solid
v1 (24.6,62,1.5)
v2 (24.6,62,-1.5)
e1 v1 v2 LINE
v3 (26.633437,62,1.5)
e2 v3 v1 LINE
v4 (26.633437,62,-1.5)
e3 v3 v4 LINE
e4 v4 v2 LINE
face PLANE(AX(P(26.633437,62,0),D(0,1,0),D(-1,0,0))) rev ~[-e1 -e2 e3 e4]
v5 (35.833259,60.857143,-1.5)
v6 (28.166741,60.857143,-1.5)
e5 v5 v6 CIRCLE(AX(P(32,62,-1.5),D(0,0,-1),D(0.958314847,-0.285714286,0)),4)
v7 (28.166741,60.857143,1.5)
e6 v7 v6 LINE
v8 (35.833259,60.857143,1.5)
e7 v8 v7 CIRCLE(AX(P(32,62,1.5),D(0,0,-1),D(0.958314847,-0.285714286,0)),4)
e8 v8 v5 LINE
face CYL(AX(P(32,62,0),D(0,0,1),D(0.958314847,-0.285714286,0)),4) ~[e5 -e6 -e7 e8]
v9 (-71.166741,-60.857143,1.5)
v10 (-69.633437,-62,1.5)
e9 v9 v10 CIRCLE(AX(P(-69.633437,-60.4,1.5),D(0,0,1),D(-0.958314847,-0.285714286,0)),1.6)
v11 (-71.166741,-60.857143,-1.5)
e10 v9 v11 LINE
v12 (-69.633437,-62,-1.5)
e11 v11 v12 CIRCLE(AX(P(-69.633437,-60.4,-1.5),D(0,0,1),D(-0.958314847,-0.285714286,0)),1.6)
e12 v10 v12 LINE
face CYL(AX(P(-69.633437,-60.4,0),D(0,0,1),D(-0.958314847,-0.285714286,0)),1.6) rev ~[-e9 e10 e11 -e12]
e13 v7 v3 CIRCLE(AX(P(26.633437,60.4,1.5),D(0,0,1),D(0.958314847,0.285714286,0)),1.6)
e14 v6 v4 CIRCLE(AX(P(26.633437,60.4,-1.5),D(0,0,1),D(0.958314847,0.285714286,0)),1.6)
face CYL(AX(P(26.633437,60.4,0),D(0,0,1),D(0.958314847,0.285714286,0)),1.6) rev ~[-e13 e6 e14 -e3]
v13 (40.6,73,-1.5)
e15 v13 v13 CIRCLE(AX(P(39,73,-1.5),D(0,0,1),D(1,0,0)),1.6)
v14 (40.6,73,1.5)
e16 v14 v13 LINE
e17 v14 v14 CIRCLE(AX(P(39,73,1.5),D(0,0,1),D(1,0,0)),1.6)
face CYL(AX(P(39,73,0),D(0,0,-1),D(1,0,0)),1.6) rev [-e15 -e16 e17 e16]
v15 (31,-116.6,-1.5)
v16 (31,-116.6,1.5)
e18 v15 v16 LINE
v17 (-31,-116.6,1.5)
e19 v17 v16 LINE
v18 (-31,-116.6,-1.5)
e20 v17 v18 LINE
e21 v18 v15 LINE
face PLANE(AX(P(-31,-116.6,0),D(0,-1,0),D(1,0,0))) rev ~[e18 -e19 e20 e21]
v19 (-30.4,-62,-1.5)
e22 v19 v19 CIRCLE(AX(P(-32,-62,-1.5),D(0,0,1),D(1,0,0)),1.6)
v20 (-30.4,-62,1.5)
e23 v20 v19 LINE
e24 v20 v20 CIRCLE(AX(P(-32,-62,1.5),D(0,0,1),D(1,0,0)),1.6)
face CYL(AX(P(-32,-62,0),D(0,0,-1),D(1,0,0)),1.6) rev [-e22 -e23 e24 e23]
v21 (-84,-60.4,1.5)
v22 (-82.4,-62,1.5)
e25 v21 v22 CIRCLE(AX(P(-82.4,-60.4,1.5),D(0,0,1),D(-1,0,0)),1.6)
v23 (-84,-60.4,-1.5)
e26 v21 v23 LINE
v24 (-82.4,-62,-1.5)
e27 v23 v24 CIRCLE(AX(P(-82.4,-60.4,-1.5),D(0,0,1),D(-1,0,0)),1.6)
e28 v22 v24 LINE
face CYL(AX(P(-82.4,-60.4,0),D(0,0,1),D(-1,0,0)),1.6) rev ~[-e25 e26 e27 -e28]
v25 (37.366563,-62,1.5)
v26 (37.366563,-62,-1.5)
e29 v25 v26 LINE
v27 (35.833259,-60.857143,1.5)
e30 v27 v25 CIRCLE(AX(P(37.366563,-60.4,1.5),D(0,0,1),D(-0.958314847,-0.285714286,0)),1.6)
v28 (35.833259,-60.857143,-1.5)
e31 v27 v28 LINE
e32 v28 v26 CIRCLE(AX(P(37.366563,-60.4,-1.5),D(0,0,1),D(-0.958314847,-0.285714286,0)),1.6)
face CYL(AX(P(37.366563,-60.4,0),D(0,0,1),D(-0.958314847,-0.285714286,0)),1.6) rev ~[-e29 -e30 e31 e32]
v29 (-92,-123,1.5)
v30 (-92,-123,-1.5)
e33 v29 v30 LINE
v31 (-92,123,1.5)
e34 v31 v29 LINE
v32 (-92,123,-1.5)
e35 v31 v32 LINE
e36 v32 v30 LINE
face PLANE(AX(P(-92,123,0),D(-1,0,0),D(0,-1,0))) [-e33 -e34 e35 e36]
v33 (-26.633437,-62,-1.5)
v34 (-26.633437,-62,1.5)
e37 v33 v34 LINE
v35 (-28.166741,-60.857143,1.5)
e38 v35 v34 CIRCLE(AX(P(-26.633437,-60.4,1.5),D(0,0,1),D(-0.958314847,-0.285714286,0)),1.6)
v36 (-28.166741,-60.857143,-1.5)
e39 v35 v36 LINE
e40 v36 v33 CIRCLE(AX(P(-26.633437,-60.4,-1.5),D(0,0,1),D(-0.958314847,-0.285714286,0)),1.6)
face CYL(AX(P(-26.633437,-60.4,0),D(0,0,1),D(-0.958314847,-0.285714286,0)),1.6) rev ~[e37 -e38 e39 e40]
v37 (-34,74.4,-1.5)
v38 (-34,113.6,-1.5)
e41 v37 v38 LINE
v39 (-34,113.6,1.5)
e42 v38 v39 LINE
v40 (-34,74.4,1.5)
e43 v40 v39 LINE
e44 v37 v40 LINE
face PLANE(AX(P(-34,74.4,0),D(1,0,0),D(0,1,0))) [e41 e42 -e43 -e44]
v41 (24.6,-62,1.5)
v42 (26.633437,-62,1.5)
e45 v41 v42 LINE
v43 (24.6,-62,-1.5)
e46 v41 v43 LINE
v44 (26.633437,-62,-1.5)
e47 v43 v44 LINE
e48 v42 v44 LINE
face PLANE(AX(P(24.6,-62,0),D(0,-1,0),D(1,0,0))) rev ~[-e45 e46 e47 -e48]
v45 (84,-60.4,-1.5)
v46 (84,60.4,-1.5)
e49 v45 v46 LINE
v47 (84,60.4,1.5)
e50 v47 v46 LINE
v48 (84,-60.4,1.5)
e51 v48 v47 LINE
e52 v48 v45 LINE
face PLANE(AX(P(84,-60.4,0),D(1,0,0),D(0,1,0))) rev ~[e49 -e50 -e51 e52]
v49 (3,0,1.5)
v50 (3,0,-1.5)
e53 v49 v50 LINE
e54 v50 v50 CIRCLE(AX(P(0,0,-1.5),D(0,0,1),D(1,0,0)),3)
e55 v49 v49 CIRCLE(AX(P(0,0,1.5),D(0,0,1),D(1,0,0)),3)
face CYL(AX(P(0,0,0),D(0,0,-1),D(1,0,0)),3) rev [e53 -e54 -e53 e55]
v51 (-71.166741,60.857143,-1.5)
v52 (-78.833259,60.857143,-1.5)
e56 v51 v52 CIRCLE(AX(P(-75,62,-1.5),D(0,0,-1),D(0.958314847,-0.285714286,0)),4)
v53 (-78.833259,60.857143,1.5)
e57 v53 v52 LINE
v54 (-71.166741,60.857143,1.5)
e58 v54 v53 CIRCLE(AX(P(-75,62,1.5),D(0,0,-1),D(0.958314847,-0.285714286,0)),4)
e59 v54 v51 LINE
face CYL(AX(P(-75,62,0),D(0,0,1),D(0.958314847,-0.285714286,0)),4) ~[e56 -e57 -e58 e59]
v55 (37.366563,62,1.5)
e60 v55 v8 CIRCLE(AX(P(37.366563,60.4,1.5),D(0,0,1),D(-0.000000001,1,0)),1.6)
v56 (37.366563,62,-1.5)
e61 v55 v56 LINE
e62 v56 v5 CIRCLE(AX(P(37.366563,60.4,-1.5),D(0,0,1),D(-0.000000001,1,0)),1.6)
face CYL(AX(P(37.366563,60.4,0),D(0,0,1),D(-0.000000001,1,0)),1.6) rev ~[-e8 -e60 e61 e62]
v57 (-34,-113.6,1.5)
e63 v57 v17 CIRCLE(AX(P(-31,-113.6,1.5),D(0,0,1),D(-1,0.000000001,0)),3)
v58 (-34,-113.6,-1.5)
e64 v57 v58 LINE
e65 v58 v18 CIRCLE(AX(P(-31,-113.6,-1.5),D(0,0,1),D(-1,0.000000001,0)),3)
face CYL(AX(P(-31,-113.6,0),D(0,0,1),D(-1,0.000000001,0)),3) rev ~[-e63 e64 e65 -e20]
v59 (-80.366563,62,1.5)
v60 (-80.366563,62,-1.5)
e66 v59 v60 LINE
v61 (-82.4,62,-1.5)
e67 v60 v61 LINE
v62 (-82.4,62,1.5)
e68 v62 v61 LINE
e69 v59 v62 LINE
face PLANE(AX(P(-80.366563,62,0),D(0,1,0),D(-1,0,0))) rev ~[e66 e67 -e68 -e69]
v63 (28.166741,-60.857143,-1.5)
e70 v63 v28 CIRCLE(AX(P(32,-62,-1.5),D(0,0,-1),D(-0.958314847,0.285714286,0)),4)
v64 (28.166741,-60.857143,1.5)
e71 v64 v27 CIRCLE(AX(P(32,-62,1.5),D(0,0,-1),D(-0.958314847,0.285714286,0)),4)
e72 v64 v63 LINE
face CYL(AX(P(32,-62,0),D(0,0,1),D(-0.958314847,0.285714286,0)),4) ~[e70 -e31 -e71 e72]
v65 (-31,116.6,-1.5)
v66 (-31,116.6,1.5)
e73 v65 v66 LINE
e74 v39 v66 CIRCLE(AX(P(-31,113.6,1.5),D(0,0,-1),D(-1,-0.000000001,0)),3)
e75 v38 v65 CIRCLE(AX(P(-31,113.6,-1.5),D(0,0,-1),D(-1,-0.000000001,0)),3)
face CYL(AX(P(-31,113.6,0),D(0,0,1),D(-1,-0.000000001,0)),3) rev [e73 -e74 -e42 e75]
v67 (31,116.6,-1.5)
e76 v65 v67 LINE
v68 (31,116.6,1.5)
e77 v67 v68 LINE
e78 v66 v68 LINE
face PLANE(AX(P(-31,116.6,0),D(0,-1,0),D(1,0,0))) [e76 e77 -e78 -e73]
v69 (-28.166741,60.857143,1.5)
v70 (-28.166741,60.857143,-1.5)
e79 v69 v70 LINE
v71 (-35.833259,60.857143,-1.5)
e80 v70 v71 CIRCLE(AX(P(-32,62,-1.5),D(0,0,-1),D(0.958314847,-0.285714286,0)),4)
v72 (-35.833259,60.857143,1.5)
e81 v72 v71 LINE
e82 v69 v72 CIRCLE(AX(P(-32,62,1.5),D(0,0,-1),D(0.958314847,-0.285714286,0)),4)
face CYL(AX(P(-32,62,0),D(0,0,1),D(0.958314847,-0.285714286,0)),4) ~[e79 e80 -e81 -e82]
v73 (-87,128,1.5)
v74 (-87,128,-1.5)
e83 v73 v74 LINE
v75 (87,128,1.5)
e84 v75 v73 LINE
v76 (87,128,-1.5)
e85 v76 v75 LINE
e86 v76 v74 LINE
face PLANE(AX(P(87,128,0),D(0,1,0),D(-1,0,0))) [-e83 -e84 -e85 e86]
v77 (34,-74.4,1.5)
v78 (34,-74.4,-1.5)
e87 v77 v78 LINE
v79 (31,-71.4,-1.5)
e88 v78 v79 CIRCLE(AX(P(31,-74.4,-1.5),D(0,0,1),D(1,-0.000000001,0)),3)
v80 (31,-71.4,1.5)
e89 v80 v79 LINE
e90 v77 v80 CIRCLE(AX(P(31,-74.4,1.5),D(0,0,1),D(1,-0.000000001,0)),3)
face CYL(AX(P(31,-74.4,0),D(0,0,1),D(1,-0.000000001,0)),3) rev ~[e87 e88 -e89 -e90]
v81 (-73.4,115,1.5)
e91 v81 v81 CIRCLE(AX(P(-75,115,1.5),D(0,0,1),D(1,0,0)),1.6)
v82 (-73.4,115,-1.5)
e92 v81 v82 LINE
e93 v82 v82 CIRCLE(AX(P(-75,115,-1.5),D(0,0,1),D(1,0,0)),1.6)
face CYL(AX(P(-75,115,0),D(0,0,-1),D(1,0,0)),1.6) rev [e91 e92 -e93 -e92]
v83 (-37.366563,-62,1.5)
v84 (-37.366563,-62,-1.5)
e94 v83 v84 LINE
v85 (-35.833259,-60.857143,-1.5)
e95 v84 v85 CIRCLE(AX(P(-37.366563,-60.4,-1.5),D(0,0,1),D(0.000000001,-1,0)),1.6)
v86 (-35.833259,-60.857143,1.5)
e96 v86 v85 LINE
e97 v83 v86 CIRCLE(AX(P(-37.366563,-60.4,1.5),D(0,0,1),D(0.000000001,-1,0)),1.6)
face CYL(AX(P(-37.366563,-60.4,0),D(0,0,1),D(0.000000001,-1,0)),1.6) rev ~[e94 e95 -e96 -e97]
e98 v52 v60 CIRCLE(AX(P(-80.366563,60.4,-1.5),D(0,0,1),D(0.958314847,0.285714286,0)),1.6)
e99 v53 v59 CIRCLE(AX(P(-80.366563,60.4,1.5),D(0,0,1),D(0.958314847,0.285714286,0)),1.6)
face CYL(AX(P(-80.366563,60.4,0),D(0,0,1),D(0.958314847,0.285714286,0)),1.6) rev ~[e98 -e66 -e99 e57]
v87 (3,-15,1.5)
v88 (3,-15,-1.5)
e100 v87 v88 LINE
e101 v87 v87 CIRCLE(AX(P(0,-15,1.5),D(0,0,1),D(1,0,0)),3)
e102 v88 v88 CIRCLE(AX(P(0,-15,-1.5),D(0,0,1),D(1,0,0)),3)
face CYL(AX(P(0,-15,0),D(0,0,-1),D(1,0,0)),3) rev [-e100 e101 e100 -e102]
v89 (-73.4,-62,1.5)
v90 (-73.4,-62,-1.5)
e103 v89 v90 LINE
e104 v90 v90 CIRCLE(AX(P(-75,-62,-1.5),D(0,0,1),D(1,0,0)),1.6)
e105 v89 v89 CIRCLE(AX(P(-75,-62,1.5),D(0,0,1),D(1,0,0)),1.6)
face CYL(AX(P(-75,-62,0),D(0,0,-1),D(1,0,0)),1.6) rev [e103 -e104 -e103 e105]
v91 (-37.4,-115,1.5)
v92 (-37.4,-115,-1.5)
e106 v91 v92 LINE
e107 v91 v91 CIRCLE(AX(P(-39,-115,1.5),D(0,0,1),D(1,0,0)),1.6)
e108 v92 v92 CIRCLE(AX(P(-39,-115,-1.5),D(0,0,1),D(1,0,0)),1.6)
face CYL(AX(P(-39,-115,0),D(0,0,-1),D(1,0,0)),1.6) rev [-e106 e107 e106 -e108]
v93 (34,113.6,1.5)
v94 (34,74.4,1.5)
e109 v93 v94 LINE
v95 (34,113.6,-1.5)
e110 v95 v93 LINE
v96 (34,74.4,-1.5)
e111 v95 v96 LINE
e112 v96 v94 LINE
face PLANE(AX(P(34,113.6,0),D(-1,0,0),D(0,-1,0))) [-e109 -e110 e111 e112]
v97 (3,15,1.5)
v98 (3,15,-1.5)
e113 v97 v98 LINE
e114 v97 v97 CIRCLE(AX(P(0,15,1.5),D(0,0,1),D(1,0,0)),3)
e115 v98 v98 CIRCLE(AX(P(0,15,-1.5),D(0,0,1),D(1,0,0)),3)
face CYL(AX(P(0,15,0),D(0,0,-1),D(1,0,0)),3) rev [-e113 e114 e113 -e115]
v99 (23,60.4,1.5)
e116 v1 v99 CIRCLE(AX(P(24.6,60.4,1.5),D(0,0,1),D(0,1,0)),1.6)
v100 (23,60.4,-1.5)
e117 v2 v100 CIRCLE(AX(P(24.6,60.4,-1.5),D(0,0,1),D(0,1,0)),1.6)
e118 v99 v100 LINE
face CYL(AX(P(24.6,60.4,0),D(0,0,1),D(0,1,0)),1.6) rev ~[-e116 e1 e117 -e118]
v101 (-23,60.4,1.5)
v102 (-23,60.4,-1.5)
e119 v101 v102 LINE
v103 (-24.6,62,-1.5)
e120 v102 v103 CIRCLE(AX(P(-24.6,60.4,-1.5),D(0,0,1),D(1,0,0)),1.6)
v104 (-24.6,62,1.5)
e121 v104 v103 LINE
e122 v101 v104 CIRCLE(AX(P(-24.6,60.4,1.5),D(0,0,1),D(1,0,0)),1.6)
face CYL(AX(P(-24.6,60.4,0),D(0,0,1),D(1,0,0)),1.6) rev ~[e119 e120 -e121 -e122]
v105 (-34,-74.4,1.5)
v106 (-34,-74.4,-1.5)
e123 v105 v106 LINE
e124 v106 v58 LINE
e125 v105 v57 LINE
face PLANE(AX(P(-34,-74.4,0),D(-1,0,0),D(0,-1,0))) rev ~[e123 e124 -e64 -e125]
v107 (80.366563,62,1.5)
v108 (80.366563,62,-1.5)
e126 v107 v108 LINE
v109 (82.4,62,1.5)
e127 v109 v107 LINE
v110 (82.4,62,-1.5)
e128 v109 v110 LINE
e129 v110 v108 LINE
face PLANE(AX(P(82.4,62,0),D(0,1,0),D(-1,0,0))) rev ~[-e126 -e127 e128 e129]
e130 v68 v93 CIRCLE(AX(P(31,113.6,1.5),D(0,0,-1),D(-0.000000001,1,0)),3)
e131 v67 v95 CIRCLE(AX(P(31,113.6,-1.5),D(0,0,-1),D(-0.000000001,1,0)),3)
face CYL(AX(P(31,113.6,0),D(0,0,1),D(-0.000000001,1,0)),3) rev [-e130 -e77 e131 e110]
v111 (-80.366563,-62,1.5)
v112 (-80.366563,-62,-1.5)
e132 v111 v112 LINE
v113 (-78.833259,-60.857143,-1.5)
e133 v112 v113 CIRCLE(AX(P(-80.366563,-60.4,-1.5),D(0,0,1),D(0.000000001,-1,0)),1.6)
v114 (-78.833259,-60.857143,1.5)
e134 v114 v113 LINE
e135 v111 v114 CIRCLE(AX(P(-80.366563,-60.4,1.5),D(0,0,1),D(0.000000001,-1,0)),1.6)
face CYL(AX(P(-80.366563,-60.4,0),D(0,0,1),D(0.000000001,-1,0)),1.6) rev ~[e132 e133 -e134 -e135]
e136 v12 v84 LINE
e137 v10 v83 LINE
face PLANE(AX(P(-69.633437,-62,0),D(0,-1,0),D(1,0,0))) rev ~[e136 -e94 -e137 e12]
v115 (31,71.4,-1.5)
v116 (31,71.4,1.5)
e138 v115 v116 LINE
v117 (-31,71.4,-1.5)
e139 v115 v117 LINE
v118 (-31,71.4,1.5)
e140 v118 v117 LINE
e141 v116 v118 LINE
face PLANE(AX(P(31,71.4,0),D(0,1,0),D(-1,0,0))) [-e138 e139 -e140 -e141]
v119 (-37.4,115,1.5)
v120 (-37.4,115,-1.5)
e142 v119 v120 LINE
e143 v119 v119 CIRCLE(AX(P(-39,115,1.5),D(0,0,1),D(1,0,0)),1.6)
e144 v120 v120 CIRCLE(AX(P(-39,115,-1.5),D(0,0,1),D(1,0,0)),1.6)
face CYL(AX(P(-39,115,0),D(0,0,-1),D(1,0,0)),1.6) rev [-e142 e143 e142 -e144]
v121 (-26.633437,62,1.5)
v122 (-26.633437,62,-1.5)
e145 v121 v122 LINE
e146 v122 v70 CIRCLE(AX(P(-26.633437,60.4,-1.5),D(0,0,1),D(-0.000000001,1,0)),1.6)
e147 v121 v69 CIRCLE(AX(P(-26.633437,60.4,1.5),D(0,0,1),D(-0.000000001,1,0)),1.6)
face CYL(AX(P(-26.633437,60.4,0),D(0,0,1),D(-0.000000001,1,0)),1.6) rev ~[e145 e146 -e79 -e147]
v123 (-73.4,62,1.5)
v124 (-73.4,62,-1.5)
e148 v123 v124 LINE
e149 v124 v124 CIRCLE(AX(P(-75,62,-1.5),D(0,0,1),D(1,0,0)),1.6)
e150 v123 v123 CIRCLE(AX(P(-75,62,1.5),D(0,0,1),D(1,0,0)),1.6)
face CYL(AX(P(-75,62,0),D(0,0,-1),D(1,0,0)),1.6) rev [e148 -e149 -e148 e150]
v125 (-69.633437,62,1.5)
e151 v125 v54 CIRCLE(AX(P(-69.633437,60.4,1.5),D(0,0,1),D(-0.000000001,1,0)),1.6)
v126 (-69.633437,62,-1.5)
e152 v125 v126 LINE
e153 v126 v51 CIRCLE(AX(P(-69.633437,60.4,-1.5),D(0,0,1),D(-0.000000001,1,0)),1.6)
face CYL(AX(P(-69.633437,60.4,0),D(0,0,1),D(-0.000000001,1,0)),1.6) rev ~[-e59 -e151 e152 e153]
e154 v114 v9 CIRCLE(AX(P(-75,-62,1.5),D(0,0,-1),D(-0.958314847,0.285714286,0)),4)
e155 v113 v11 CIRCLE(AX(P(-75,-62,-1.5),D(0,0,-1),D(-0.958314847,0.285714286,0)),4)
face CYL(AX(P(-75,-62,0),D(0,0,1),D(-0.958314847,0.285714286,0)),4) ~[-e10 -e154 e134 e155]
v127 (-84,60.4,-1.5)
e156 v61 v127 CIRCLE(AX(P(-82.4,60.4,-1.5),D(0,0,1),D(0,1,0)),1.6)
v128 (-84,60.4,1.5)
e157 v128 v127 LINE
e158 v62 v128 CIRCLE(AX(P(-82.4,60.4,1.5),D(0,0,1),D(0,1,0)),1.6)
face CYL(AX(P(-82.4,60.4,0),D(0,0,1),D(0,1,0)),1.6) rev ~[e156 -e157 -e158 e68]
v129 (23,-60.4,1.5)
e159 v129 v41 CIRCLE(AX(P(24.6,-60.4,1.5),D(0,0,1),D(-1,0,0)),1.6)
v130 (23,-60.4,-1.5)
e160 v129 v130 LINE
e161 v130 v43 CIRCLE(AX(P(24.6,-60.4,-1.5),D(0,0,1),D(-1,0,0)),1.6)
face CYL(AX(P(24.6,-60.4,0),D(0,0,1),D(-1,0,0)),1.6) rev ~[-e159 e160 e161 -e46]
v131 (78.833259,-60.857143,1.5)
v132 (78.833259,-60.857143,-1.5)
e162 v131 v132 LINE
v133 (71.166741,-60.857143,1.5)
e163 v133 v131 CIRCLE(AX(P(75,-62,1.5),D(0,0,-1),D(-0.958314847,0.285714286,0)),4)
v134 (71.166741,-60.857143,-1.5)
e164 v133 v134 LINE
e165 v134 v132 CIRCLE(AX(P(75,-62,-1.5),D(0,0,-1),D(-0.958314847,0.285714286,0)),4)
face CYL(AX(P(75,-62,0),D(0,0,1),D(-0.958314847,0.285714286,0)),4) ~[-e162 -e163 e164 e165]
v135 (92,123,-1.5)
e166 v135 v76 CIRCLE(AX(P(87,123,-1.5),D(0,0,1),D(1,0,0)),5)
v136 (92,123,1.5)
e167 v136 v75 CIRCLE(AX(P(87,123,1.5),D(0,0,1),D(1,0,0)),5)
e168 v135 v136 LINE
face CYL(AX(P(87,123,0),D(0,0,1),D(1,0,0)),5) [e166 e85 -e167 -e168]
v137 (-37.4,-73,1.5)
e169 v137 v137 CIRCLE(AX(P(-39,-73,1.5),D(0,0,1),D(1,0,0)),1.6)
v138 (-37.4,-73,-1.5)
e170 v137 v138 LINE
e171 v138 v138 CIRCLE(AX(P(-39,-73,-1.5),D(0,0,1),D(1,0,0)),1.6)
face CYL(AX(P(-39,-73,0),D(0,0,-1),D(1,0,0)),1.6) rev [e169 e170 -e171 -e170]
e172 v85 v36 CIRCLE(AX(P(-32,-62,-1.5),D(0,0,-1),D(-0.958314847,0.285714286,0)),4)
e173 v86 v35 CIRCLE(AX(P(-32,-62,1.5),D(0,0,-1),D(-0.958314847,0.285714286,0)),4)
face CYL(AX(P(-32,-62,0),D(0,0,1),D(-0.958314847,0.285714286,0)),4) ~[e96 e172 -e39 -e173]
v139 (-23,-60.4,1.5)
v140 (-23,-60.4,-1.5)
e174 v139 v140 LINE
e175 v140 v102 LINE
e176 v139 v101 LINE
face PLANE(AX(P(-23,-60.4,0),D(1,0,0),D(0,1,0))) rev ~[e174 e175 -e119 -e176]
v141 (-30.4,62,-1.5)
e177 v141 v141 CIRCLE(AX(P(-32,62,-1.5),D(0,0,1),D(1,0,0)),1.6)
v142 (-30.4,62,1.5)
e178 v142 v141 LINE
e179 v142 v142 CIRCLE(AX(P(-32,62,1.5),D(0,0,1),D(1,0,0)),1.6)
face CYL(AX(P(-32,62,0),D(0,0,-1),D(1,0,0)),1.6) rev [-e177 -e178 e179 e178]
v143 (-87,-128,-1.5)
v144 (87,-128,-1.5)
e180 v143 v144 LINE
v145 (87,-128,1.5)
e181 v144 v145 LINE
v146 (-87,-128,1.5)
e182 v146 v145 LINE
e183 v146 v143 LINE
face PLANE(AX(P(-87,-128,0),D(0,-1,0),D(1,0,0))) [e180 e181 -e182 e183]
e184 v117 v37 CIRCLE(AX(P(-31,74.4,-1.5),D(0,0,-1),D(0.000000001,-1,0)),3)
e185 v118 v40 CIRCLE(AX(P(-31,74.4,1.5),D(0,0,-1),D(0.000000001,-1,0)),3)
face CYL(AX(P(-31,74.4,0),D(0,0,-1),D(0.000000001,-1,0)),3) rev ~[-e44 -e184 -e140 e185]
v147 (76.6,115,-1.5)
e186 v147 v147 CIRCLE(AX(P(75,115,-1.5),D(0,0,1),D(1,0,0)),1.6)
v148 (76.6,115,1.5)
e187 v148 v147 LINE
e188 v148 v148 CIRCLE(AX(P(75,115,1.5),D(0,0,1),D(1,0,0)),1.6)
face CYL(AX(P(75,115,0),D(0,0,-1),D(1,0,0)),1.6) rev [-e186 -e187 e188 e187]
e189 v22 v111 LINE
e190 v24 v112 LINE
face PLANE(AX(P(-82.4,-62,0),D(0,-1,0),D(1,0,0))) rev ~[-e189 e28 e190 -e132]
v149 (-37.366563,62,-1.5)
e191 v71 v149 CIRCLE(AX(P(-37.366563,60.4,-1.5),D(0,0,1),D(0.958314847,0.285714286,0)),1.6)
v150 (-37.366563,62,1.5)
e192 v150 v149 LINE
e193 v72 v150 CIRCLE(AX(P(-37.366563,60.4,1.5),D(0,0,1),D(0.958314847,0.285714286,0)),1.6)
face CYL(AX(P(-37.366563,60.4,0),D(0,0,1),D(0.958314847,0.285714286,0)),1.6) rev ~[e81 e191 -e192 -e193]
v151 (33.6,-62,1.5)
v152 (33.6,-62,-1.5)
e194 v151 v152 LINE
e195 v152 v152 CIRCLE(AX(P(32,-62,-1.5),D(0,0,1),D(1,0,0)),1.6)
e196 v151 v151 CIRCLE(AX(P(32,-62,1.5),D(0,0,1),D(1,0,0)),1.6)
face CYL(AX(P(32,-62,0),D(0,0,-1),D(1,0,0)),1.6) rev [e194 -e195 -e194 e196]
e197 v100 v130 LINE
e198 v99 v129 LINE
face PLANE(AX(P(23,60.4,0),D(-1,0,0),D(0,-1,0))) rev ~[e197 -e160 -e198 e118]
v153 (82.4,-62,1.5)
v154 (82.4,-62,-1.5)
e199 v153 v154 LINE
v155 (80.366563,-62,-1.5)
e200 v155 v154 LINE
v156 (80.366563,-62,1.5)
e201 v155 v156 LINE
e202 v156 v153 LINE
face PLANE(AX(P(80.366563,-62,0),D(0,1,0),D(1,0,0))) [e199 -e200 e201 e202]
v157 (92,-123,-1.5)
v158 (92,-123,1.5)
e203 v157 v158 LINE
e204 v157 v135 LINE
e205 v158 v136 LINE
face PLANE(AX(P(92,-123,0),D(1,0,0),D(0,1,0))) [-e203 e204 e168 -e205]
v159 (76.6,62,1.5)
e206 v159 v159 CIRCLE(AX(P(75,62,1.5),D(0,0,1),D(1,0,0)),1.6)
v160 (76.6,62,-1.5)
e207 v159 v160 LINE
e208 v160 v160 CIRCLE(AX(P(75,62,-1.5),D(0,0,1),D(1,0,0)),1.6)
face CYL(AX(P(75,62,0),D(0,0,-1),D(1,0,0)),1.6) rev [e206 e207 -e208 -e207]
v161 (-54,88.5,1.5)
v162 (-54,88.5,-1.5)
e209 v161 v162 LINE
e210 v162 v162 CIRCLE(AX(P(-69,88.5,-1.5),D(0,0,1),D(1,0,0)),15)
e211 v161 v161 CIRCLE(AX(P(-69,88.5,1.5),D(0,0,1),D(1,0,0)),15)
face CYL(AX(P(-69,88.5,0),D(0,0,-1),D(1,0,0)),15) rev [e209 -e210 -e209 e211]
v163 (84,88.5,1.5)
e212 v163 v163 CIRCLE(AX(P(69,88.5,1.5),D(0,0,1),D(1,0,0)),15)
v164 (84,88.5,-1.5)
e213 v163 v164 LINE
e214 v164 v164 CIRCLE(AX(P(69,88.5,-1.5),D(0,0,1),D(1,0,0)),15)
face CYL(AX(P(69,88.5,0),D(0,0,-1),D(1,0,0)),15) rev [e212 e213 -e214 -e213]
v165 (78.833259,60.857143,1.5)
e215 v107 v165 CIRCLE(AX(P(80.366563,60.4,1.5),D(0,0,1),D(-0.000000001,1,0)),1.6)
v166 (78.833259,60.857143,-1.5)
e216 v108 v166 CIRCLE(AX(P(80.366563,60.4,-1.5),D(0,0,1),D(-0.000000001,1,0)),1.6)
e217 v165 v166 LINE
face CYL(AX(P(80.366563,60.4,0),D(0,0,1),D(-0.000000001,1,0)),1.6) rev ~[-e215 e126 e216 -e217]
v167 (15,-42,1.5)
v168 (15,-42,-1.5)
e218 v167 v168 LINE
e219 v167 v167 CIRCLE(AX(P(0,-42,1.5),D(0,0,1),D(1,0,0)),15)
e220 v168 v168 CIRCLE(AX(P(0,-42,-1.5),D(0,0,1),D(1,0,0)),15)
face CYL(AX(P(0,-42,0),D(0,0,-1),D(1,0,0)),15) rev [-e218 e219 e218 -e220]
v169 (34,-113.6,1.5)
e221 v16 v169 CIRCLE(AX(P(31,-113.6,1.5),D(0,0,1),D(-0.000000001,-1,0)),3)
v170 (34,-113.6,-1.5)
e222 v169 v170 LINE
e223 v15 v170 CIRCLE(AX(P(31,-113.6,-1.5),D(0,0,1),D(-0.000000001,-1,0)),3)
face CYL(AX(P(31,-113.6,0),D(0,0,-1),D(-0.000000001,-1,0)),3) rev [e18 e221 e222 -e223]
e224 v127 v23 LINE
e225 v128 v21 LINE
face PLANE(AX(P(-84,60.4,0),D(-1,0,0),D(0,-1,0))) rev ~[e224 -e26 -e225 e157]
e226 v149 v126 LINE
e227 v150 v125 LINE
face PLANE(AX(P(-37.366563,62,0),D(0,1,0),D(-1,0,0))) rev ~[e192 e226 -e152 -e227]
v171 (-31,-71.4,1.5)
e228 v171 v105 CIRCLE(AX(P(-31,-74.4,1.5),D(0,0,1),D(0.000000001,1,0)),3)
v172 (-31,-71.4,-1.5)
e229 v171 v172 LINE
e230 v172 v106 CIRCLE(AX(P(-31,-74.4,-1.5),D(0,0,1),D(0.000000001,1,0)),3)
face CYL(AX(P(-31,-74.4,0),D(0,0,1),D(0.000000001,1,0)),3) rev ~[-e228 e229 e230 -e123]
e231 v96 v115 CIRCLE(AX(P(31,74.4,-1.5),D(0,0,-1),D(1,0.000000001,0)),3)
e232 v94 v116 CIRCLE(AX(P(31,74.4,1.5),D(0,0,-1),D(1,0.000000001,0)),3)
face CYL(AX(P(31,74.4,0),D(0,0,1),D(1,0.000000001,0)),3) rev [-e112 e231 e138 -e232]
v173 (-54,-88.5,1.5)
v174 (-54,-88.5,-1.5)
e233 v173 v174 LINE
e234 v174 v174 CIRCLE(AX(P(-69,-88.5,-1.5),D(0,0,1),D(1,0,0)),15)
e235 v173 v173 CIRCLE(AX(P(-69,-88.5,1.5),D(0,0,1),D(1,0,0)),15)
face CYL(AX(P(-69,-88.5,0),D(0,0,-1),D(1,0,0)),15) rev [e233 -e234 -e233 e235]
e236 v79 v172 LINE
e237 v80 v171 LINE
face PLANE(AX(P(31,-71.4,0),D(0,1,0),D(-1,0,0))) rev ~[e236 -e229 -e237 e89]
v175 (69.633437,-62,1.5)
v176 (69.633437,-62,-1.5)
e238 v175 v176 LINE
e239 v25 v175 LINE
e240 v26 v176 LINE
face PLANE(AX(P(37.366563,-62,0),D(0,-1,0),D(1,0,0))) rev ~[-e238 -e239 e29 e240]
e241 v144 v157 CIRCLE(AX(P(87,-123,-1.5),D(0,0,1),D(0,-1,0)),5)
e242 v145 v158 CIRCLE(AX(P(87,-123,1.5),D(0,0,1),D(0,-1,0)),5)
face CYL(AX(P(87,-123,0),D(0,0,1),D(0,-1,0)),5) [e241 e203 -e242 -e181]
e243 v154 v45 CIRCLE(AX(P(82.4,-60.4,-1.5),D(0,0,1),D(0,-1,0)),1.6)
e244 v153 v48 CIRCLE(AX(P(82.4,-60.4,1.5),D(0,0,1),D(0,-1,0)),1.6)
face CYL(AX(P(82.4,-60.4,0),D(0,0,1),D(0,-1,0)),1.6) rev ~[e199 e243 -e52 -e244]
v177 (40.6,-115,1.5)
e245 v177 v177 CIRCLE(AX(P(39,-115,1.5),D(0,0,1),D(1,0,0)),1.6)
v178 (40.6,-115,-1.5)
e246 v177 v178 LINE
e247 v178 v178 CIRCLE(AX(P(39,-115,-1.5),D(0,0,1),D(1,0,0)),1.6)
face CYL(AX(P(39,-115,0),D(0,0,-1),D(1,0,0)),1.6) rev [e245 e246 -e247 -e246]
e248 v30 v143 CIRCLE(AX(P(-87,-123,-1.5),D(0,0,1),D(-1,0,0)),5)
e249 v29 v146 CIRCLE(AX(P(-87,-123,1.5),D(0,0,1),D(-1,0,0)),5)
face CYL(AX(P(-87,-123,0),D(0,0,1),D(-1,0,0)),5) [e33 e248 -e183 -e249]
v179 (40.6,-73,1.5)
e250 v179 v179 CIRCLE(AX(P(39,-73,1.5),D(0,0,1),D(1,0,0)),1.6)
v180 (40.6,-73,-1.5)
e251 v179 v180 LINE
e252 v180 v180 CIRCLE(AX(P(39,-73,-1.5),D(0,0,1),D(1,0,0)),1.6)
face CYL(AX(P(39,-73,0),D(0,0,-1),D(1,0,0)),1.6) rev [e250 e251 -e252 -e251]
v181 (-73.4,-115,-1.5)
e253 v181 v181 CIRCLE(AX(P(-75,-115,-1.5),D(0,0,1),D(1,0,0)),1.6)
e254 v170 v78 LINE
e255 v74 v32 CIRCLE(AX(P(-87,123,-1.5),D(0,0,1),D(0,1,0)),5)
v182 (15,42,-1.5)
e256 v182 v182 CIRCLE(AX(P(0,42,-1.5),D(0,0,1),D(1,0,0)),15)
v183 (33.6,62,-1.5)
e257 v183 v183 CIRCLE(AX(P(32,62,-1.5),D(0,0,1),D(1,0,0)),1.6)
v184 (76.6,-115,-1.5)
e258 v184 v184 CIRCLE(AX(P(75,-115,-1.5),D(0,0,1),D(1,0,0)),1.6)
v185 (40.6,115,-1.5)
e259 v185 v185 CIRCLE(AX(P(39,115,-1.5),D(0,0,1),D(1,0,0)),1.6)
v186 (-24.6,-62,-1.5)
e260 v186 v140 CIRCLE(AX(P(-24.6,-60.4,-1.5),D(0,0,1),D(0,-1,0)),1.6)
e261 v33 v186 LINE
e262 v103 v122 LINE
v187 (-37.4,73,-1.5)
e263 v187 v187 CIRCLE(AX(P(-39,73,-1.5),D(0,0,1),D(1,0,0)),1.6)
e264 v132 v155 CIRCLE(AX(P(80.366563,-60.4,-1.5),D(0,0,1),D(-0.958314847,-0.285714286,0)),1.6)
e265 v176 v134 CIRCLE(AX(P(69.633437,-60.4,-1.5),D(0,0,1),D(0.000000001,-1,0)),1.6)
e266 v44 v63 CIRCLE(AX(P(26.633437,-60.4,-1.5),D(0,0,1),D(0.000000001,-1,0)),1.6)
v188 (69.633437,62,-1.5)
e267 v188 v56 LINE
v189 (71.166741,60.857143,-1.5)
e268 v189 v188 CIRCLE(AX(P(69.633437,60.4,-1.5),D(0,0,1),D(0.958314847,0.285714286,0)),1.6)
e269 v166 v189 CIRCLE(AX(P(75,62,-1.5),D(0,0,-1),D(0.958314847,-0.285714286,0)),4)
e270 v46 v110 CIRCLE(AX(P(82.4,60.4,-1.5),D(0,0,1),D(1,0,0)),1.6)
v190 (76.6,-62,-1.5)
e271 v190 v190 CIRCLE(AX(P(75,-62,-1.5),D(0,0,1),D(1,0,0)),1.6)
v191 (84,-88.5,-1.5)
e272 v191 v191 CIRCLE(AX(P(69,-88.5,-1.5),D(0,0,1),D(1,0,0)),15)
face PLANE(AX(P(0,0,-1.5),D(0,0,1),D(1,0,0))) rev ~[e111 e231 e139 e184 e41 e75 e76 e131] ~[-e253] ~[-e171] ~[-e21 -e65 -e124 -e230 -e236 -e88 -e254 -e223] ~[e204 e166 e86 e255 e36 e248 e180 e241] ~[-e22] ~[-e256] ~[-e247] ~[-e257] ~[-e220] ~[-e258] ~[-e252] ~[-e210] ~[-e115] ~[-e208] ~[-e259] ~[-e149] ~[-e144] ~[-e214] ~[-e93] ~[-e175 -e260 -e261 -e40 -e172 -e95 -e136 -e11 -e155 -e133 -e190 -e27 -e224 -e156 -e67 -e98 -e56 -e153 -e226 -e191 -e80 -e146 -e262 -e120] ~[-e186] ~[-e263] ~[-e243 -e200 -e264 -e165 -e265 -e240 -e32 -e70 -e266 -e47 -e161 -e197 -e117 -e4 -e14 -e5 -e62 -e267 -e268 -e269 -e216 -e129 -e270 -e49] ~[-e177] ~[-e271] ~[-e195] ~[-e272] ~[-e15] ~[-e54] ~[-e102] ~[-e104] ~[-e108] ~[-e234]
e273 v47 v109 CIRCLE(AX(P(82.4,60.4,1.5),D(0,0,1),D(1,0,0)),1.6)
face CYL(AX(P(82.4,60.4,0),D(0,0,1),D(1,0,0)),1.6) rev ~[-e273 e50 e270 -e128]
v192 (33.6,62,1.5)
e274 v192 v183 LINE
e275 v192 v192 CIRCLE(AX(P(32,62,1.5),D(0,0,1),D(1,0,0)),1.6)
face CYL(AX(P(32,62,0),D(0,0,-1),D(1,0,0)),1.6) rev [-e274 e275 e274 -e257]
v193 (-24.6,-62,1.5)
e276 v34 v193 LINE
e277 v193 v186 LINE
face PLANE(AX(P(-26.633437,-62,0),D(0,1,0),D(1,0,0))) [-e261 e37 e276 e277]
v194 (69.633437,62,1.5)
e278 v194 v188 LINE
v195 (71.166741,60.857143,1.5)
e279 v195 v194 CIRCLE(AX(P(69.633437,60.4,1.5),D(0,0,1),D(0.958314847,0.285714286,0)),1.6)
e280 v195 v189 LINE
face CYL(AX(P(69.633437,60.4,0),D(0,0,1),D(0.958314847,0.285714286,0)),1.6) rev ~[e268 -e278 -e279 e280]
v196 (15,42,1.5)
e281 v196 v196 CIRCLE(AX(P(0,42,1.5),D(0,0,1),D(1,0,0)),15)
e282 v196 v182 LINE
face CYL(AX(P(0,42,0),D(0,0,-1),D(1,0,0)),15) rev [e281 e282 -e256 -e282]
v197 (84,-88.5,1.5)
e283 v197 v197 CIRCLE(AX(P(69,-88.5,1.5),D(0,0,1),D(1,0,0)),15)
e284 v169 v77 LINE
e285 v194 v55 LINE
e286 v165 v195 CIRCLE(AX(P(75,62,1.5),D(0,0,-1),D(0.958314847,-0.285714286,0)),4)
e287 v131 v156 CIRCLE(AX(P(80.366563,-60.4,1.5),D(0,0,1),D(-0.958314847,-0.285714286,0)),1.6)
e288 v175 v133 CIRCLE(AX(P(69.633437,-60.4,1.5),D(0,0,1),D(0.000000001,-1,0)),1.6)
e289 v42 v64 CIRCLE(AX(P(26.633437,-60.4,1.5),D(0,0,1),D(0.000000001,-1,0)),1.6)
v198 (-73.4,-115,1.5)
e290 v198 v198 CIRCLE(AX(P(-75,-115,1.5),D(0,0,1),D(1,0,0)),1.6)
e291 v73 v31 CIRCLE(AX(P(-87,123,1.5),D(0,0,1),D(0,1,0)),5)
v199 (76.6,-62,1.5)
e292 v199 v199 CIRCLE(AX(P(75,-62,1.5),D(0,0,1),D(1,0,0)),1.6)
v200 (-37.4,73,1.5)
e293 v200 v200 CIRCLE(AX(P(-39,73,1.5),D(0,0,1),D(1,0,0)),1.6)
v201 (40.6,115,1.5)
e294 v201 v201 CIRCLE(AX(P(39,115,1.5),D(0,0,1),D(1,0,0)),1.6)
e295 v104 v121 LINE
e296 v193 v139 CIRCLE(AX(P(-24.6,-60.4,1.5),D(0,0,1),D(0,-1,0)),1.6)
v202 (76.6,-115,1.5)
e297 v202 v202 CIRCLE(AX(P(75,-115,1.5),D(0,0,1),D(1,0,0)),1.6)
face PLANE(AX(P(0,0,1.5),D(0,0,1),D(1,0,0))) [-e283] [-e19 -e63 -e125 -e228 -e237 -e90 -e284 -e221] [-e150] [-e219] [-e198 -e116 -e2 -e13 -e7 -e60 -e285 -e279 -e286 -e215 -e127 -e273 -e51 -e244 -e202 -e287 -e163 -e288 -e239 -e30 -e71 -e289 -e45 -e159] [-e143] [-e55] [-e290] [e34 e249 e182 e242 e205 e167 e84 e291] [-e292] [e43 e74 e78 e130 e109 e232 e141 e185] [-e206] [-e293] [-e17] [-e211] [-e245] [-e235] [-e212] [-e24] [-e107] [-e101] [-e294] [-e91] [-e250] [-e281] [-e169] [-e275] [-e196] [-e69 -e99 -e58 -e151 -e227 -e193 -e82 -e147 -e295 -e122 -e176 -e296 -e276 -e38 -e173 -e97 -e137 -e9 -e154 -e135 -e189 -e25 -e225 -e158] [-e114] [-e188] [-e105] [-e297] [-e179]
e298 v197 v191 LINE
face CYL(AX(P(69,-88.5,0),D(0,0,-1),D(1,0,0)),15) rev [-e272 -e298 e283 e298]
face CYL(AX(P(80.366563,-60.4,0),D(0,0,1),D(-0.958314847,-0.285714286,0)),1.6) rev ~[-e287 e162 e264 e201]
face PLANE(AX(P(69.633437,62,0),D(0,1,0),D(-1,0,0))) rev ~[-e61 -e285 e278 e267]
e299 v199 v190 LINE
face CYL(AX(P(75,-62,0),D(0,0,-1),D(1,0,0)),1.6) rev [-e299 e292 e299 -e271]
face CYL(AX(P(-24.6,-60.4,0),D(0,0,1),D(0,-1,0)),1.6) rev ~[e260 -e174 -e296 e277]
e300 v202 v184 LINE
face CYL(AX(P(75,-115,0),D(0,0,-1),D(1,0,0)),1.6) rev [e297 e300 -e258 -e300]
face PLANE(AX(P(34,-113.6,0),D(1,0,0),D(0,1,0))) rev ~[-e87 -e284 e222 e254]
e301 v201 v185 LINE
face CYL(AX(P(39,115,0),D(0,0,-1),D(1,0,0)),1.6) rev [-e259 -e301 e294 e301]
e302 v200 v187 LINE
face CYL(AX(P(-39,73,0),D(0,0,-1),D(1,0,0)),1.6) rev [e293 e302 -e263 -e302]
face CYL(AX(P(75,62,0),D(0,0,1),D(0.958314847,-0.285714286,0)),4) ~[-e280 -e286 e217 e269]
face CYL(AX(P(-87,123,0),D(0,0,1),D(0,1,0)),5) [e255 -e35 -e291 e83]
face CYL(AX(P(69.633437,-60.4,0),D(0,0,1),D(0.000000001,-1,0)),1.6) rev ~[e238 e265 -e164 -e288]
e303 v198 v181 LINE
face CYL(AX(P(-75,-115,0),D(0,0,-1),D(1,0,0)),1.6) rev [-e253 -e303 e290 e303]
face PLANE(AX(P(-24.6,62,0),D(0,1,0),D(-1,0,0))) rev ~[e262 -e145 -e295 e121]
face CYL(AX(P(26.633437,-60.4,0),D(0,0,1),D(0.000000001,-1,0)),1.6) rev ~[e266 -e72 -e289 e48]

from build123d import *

# Parameters (mm, degrees)
MODEL_R             = 1.6
MODEL_R_2           = 3
MODEL_R_3           = 15
BOSS_EXTRUDE1_DEPTH = 1.5


with BuildPart() as part:
    # Model → Boss-Extrude1 (new, symmetric)
    with BuildSketch(Plane.XY):
        with BuildLine():
            Line((-87, -128), (87, -128))
            ThreePointArc((87, -128), (90.535533906, -126.535533906), (92, -123))
            Line((92, -123), (92, 123))
            ThreePointArc((92, 123), (90.535533906, 126.535533906), (87, 128))
            Line((87, 128), (-87, 128))
            ThreePointArc((-87, 128), (-90.535533906, 126.535533906), (-92, 123))
            Line((-92, 123), (-92, -123))
            ThreePointArc((-92, -123), (-90.535533906, -126.535533906), (-87, -128))
        make_face()
        with Locations((-75, 62)):
            Circle(MODEL_R, mode=Mode.SUBTRACT)
        with Locations((-32, 62)):
            Circle(MODEL_R, mode=Mode.SUBTRACT)
        with Locations((-75, -62)):
            Circle(MODEL_R, mode=Mode.SUBTRACT)
        with Locations((-32, -62)):
            Circle(MODEL_R, mode=Mode.SUBTRACT)
        with Locations((32, 62)):
            Circle(MODEL_R, mode=Mode.SUBTRACT)
        with Locations((75, 62)):
            Circle(MODEL_R, mode=Mode.SUBTRACT)
        with Locations((32, -62)):
            Circle(MODEL_R, mode=Mode.SUBTRACT)
        with Locations((75, -62)):
            Circle(MODEL_R, mode=Mode.SUBTRACT)
        with Locations((-39, 115)):
            Circle(MODEL_R, mode=Mode.SUBTRACT)
        with Locations((-39, 73)):
            Circle(MODEL_R, mode=Mode.SUBTRACT)
        with Locations((39, 115)):
            Circle(MODEL_R, mode=Mode.SUBTRACT)
        with Locations((39, 73)):
            Circle(MODEL_R, mode=Mode.SUBTRACT)
        with Locations((-39, -115)):
            Circle(MODEL_R, mode=Mode.SUBTRACT)
        with Locations((-39, -73)):
            Circle(MODEL_R, mode=Mode.SUBTRACT)
        with Locations((39, -115)):
            Circle(MODEL_R, mode=Mode.SUBTRACT)
        with Locations((39, -73)):
            Circle(MODEL_R, mode=Mode.SUBTRACT)
        Circle(MODEL_R_2, mode=Mode.SUBTRACT)
        with Locations((0, 15)):
            Circle(MODEL_R_2, mode=Mode.SUBTRACT)
        with Locations((0, -15)):
            Circle(MODEL_R_2, mode=Mode.SUBTRACT)
        with Locations((0, 42)):
            Circle(MODEL_R_3, mode=Mode.SUBTRACT)
        with Locations((0, -42)):
            Circle(MODEL_R_3, mode=Mode.SUBTRACT)
        with Locations((-75, 115)):
            Circle(MODEL_R, mode=Mode.SUBTRACT)
        with Locations((75, 115)):
            Circle(MODEL_R, mode=Mode.SUBTRACT)
        with Locations((-75, -115)):
            Circle(MODEL_R, mode=Mode.SUBTRACT)
        with Locations((75, -115)):
            Circle(MODEL_R, mode=Mode.SUBTRACT)
        with Locations((-69, 88.5)):
            Circle(MODEL_R_3, mode=Mode.SUBTRACT)
        with Locations((69, 88.5)):
            Circle(MODEL_R_3, mode=Mode.SUBTRACT)
        with Locations((-69, -88.5)):
            Circle(MODEL_R_3, mode=Mode.SUBTRACT)
        with Locations((69, -88.5)):
            Circle(MODEL_R_3, mode=Mode.SUBTRACT)
        with BuildLine():
            Line((-80.366563146, 62), (-82.4, 62))
            ThreePointArc((-82.4, 62), (-83.53137085, 61.53137085), (-84, 60.4))
            Line((-84, 60.4), (-84, -60.4))
            ThreePointArc((-84, -60.4), (-83.53137085, -61.53137085), (-82.4, -62))
            Line((-82.4, -62), (-80.366563146, -62))
            ThreePointArc((-80.366563146, -62), (-79.410380259, -61.682853961), (-78.83325939, -60.857142857))
            ThreePointArc((-78.83325939, -60.857142857), (-75, -58), (-71.16674061, -60.857142857))
            ThreePointArc((-71.16674061, -60.857142857), (-70.589619741, -61.682853961), (-69.633436854, -62))
            Line((-69.633436854, -62), (-37.366563146, -62))
            ThreePointArc((-37.366563146, -62), (-36.410380259, -61.682853961), (-35.83325939, -60.857142857))
            ThreePointArc((-35.83325939, -60.857142857), (-32, -58), (-28.16674061, -60.857142857))
            ThreePointArc((-28.16674061, -60.857142857), (-27.589619741, -61.682853961), (-26.633436854, -62))
            Line((-26.633436854, -62), (-24.6, -62))
            ThreePointArc((-24.6, -62), (-23.46862915, -61.53137085), (-23, -60.4))
            Line((-23, -60.4), (-23, 60.4))
            ThreePointArc((-23, 60.4), (-23.46862915, 61.53137085), (-24.6, 62))
            Line((-24.6, 62), (-26.633436854, 62))
            ThreePointArc((-26.633436854, 62), (-27.589619741, 61.682853961), (-28.16674061, 60.857142857))
            ThreePointArc((-28.16674061, 60.857142857), (-32, 58), (-35.83325939, 60.857142857))
            ThreePointArc((-35.83325939, 60.857142857), (-36.410380259, 61.682853961), (-37.366563146, 62))
            Line((-37.366563146, 62), (-69.633436854, 62))
            ThreePointArc((-69.633436854, 62), (-70.589619741, 61.682853961), (-71.16674061, 60.857142857))
            ThreePointArc((-71.16674061, 60.857142857), (-75, 58), (-78.83325939, 60.857142857))
            ThreePointArc((-78.83325939, 60.857142857), (-79.410380259, 61.682853961), (-80.366563146, 62))
        make_face(mode=Mode.SUBTRACT)
        with BuildLine():
            Line((26.633436854, 62), (24.6, 62))
            ThreePointArc((24.6, 62), (23.46862915, 61.53137085), (23, 60.4))
            Line((23, 60.4), (23, -60.4))
            ThreePointArc((23, -60.4), (23.46862915, -61.53137085), (24.6, -62))
            Line((24.6, -62), (26.633436854, -62))
            ThreePointArc((26.633436854, -62), (27.589619741, -61.682853961), (28.16674061, -60.857142857))
            ThreePointArc((28.16674061, -60.857142857), (32, -58), (35.83325939, -60.857142857))
            ThreePointArc((35.83325939, -60.857142857), (36.410380259, -61.682853961), (37.366563146, -62))
            Line((37.366563146, -62), (69.633436854, -62))
            ThreePointArc((69.633436854, -62), (70.589619741, -61.682853961), (71.16674061, -60.857142857))
            ThreePointArc((71.16674061, -60.857142857), (75, -58), (78.83325939, -60.857142857))
            ThreePointArc((78.83325939, -60.857142857), (79.410380259, -61.682853961), (80.366563146, -62))
            Line((80.366563146, -62), (82.4, -62))
            ThreePointArc((82.4, -62), (83.53137085, -61.53137085), (84, -60.4))
            Line((84, -60.4), (84, 60.4))
            ThreePointArc((84, 60.4), (83.53137085, 61.53137085), (82.4, 62))
            Line((82.4, 62), (80.366563146, 62))
            ThreePointArc((80.366563146, 62), (79.410380259, 61.682853961), (78.83325939, 60.857142857))
            ThreePointArc((78.83325939, 60.857142857), (75, 58), (71.16674061, 60.857142857))
            ThreePointArc((71.16674061, 60.857142857), (70.589619741, 61.682853961), (69.633436854, 62))
            Line((69.633436854, 62), (37.366563146, 62))
            ThreePointArc((37.366563146, 62), (36.410380259, 61.682853961), (35.83325939, 60.857142857))
            ThreePointArc((35.83325939, 60.857142857), (32, 58), (28.16674061, 60.857142857))
            ThreePointArc((28.16674061, 60.857142857), (27.589619741, 61.682853961), (26.633436854, 62))
        make_face(mode=Mode.SUBTRACT)
        with BuildLine():
            Line((34, 113.6), (34, 74.4))
            ThreePointArc((34, 74.4), (33.121320344, 72.278679656), (31, 71.4))
            Line((31, 71.4), (-31, 71.4))
            ThreePointArc((-31, 71.4), (-33.121320344, 72.278679656), (-34, 74.4))
            Line((-34, 74.4), (-34, 113.6))
            ThreePointArc((-34, 113.6), (-33.121320344, 115.721320344), (-31, 116.6))
            Line((-31, 116.6), (31, 116.6))
            ThreePointArc((31, 116.6), (33.121320344, 115.721320344), (34, 113.6))
        make_face(mode=Mode.SUBTRACT)
        with BuildLine():
            Line((34, -113.6), (34, -74.4))
            ThreePointArc((34, -74.4), (33.121320344, -72.278679656), (31, -71.4))
            Line((31, -71.4), (-31, -71.4))
            ThreePointArc((-31, -71.4), (-33.121320344, -72.278679656), (-34, -74.4))
            Line((-34, -74.4), (-34, -113.6))
            ThreePointArc((-34, -113.6), (-33.121320344, -115.721320344), (-31, -116.6))
            Line((-31, -116.6), (31, -116.6))
            ThreePointArc((31, -116.6), (33.121320344, -115.721320344), (34, -113.6))
        make_face(mode=Mode.SUBTRACT)
    extrude(amount=BOSS_EXTRUDE1_DEPTH, both=True)


solid = part.part
